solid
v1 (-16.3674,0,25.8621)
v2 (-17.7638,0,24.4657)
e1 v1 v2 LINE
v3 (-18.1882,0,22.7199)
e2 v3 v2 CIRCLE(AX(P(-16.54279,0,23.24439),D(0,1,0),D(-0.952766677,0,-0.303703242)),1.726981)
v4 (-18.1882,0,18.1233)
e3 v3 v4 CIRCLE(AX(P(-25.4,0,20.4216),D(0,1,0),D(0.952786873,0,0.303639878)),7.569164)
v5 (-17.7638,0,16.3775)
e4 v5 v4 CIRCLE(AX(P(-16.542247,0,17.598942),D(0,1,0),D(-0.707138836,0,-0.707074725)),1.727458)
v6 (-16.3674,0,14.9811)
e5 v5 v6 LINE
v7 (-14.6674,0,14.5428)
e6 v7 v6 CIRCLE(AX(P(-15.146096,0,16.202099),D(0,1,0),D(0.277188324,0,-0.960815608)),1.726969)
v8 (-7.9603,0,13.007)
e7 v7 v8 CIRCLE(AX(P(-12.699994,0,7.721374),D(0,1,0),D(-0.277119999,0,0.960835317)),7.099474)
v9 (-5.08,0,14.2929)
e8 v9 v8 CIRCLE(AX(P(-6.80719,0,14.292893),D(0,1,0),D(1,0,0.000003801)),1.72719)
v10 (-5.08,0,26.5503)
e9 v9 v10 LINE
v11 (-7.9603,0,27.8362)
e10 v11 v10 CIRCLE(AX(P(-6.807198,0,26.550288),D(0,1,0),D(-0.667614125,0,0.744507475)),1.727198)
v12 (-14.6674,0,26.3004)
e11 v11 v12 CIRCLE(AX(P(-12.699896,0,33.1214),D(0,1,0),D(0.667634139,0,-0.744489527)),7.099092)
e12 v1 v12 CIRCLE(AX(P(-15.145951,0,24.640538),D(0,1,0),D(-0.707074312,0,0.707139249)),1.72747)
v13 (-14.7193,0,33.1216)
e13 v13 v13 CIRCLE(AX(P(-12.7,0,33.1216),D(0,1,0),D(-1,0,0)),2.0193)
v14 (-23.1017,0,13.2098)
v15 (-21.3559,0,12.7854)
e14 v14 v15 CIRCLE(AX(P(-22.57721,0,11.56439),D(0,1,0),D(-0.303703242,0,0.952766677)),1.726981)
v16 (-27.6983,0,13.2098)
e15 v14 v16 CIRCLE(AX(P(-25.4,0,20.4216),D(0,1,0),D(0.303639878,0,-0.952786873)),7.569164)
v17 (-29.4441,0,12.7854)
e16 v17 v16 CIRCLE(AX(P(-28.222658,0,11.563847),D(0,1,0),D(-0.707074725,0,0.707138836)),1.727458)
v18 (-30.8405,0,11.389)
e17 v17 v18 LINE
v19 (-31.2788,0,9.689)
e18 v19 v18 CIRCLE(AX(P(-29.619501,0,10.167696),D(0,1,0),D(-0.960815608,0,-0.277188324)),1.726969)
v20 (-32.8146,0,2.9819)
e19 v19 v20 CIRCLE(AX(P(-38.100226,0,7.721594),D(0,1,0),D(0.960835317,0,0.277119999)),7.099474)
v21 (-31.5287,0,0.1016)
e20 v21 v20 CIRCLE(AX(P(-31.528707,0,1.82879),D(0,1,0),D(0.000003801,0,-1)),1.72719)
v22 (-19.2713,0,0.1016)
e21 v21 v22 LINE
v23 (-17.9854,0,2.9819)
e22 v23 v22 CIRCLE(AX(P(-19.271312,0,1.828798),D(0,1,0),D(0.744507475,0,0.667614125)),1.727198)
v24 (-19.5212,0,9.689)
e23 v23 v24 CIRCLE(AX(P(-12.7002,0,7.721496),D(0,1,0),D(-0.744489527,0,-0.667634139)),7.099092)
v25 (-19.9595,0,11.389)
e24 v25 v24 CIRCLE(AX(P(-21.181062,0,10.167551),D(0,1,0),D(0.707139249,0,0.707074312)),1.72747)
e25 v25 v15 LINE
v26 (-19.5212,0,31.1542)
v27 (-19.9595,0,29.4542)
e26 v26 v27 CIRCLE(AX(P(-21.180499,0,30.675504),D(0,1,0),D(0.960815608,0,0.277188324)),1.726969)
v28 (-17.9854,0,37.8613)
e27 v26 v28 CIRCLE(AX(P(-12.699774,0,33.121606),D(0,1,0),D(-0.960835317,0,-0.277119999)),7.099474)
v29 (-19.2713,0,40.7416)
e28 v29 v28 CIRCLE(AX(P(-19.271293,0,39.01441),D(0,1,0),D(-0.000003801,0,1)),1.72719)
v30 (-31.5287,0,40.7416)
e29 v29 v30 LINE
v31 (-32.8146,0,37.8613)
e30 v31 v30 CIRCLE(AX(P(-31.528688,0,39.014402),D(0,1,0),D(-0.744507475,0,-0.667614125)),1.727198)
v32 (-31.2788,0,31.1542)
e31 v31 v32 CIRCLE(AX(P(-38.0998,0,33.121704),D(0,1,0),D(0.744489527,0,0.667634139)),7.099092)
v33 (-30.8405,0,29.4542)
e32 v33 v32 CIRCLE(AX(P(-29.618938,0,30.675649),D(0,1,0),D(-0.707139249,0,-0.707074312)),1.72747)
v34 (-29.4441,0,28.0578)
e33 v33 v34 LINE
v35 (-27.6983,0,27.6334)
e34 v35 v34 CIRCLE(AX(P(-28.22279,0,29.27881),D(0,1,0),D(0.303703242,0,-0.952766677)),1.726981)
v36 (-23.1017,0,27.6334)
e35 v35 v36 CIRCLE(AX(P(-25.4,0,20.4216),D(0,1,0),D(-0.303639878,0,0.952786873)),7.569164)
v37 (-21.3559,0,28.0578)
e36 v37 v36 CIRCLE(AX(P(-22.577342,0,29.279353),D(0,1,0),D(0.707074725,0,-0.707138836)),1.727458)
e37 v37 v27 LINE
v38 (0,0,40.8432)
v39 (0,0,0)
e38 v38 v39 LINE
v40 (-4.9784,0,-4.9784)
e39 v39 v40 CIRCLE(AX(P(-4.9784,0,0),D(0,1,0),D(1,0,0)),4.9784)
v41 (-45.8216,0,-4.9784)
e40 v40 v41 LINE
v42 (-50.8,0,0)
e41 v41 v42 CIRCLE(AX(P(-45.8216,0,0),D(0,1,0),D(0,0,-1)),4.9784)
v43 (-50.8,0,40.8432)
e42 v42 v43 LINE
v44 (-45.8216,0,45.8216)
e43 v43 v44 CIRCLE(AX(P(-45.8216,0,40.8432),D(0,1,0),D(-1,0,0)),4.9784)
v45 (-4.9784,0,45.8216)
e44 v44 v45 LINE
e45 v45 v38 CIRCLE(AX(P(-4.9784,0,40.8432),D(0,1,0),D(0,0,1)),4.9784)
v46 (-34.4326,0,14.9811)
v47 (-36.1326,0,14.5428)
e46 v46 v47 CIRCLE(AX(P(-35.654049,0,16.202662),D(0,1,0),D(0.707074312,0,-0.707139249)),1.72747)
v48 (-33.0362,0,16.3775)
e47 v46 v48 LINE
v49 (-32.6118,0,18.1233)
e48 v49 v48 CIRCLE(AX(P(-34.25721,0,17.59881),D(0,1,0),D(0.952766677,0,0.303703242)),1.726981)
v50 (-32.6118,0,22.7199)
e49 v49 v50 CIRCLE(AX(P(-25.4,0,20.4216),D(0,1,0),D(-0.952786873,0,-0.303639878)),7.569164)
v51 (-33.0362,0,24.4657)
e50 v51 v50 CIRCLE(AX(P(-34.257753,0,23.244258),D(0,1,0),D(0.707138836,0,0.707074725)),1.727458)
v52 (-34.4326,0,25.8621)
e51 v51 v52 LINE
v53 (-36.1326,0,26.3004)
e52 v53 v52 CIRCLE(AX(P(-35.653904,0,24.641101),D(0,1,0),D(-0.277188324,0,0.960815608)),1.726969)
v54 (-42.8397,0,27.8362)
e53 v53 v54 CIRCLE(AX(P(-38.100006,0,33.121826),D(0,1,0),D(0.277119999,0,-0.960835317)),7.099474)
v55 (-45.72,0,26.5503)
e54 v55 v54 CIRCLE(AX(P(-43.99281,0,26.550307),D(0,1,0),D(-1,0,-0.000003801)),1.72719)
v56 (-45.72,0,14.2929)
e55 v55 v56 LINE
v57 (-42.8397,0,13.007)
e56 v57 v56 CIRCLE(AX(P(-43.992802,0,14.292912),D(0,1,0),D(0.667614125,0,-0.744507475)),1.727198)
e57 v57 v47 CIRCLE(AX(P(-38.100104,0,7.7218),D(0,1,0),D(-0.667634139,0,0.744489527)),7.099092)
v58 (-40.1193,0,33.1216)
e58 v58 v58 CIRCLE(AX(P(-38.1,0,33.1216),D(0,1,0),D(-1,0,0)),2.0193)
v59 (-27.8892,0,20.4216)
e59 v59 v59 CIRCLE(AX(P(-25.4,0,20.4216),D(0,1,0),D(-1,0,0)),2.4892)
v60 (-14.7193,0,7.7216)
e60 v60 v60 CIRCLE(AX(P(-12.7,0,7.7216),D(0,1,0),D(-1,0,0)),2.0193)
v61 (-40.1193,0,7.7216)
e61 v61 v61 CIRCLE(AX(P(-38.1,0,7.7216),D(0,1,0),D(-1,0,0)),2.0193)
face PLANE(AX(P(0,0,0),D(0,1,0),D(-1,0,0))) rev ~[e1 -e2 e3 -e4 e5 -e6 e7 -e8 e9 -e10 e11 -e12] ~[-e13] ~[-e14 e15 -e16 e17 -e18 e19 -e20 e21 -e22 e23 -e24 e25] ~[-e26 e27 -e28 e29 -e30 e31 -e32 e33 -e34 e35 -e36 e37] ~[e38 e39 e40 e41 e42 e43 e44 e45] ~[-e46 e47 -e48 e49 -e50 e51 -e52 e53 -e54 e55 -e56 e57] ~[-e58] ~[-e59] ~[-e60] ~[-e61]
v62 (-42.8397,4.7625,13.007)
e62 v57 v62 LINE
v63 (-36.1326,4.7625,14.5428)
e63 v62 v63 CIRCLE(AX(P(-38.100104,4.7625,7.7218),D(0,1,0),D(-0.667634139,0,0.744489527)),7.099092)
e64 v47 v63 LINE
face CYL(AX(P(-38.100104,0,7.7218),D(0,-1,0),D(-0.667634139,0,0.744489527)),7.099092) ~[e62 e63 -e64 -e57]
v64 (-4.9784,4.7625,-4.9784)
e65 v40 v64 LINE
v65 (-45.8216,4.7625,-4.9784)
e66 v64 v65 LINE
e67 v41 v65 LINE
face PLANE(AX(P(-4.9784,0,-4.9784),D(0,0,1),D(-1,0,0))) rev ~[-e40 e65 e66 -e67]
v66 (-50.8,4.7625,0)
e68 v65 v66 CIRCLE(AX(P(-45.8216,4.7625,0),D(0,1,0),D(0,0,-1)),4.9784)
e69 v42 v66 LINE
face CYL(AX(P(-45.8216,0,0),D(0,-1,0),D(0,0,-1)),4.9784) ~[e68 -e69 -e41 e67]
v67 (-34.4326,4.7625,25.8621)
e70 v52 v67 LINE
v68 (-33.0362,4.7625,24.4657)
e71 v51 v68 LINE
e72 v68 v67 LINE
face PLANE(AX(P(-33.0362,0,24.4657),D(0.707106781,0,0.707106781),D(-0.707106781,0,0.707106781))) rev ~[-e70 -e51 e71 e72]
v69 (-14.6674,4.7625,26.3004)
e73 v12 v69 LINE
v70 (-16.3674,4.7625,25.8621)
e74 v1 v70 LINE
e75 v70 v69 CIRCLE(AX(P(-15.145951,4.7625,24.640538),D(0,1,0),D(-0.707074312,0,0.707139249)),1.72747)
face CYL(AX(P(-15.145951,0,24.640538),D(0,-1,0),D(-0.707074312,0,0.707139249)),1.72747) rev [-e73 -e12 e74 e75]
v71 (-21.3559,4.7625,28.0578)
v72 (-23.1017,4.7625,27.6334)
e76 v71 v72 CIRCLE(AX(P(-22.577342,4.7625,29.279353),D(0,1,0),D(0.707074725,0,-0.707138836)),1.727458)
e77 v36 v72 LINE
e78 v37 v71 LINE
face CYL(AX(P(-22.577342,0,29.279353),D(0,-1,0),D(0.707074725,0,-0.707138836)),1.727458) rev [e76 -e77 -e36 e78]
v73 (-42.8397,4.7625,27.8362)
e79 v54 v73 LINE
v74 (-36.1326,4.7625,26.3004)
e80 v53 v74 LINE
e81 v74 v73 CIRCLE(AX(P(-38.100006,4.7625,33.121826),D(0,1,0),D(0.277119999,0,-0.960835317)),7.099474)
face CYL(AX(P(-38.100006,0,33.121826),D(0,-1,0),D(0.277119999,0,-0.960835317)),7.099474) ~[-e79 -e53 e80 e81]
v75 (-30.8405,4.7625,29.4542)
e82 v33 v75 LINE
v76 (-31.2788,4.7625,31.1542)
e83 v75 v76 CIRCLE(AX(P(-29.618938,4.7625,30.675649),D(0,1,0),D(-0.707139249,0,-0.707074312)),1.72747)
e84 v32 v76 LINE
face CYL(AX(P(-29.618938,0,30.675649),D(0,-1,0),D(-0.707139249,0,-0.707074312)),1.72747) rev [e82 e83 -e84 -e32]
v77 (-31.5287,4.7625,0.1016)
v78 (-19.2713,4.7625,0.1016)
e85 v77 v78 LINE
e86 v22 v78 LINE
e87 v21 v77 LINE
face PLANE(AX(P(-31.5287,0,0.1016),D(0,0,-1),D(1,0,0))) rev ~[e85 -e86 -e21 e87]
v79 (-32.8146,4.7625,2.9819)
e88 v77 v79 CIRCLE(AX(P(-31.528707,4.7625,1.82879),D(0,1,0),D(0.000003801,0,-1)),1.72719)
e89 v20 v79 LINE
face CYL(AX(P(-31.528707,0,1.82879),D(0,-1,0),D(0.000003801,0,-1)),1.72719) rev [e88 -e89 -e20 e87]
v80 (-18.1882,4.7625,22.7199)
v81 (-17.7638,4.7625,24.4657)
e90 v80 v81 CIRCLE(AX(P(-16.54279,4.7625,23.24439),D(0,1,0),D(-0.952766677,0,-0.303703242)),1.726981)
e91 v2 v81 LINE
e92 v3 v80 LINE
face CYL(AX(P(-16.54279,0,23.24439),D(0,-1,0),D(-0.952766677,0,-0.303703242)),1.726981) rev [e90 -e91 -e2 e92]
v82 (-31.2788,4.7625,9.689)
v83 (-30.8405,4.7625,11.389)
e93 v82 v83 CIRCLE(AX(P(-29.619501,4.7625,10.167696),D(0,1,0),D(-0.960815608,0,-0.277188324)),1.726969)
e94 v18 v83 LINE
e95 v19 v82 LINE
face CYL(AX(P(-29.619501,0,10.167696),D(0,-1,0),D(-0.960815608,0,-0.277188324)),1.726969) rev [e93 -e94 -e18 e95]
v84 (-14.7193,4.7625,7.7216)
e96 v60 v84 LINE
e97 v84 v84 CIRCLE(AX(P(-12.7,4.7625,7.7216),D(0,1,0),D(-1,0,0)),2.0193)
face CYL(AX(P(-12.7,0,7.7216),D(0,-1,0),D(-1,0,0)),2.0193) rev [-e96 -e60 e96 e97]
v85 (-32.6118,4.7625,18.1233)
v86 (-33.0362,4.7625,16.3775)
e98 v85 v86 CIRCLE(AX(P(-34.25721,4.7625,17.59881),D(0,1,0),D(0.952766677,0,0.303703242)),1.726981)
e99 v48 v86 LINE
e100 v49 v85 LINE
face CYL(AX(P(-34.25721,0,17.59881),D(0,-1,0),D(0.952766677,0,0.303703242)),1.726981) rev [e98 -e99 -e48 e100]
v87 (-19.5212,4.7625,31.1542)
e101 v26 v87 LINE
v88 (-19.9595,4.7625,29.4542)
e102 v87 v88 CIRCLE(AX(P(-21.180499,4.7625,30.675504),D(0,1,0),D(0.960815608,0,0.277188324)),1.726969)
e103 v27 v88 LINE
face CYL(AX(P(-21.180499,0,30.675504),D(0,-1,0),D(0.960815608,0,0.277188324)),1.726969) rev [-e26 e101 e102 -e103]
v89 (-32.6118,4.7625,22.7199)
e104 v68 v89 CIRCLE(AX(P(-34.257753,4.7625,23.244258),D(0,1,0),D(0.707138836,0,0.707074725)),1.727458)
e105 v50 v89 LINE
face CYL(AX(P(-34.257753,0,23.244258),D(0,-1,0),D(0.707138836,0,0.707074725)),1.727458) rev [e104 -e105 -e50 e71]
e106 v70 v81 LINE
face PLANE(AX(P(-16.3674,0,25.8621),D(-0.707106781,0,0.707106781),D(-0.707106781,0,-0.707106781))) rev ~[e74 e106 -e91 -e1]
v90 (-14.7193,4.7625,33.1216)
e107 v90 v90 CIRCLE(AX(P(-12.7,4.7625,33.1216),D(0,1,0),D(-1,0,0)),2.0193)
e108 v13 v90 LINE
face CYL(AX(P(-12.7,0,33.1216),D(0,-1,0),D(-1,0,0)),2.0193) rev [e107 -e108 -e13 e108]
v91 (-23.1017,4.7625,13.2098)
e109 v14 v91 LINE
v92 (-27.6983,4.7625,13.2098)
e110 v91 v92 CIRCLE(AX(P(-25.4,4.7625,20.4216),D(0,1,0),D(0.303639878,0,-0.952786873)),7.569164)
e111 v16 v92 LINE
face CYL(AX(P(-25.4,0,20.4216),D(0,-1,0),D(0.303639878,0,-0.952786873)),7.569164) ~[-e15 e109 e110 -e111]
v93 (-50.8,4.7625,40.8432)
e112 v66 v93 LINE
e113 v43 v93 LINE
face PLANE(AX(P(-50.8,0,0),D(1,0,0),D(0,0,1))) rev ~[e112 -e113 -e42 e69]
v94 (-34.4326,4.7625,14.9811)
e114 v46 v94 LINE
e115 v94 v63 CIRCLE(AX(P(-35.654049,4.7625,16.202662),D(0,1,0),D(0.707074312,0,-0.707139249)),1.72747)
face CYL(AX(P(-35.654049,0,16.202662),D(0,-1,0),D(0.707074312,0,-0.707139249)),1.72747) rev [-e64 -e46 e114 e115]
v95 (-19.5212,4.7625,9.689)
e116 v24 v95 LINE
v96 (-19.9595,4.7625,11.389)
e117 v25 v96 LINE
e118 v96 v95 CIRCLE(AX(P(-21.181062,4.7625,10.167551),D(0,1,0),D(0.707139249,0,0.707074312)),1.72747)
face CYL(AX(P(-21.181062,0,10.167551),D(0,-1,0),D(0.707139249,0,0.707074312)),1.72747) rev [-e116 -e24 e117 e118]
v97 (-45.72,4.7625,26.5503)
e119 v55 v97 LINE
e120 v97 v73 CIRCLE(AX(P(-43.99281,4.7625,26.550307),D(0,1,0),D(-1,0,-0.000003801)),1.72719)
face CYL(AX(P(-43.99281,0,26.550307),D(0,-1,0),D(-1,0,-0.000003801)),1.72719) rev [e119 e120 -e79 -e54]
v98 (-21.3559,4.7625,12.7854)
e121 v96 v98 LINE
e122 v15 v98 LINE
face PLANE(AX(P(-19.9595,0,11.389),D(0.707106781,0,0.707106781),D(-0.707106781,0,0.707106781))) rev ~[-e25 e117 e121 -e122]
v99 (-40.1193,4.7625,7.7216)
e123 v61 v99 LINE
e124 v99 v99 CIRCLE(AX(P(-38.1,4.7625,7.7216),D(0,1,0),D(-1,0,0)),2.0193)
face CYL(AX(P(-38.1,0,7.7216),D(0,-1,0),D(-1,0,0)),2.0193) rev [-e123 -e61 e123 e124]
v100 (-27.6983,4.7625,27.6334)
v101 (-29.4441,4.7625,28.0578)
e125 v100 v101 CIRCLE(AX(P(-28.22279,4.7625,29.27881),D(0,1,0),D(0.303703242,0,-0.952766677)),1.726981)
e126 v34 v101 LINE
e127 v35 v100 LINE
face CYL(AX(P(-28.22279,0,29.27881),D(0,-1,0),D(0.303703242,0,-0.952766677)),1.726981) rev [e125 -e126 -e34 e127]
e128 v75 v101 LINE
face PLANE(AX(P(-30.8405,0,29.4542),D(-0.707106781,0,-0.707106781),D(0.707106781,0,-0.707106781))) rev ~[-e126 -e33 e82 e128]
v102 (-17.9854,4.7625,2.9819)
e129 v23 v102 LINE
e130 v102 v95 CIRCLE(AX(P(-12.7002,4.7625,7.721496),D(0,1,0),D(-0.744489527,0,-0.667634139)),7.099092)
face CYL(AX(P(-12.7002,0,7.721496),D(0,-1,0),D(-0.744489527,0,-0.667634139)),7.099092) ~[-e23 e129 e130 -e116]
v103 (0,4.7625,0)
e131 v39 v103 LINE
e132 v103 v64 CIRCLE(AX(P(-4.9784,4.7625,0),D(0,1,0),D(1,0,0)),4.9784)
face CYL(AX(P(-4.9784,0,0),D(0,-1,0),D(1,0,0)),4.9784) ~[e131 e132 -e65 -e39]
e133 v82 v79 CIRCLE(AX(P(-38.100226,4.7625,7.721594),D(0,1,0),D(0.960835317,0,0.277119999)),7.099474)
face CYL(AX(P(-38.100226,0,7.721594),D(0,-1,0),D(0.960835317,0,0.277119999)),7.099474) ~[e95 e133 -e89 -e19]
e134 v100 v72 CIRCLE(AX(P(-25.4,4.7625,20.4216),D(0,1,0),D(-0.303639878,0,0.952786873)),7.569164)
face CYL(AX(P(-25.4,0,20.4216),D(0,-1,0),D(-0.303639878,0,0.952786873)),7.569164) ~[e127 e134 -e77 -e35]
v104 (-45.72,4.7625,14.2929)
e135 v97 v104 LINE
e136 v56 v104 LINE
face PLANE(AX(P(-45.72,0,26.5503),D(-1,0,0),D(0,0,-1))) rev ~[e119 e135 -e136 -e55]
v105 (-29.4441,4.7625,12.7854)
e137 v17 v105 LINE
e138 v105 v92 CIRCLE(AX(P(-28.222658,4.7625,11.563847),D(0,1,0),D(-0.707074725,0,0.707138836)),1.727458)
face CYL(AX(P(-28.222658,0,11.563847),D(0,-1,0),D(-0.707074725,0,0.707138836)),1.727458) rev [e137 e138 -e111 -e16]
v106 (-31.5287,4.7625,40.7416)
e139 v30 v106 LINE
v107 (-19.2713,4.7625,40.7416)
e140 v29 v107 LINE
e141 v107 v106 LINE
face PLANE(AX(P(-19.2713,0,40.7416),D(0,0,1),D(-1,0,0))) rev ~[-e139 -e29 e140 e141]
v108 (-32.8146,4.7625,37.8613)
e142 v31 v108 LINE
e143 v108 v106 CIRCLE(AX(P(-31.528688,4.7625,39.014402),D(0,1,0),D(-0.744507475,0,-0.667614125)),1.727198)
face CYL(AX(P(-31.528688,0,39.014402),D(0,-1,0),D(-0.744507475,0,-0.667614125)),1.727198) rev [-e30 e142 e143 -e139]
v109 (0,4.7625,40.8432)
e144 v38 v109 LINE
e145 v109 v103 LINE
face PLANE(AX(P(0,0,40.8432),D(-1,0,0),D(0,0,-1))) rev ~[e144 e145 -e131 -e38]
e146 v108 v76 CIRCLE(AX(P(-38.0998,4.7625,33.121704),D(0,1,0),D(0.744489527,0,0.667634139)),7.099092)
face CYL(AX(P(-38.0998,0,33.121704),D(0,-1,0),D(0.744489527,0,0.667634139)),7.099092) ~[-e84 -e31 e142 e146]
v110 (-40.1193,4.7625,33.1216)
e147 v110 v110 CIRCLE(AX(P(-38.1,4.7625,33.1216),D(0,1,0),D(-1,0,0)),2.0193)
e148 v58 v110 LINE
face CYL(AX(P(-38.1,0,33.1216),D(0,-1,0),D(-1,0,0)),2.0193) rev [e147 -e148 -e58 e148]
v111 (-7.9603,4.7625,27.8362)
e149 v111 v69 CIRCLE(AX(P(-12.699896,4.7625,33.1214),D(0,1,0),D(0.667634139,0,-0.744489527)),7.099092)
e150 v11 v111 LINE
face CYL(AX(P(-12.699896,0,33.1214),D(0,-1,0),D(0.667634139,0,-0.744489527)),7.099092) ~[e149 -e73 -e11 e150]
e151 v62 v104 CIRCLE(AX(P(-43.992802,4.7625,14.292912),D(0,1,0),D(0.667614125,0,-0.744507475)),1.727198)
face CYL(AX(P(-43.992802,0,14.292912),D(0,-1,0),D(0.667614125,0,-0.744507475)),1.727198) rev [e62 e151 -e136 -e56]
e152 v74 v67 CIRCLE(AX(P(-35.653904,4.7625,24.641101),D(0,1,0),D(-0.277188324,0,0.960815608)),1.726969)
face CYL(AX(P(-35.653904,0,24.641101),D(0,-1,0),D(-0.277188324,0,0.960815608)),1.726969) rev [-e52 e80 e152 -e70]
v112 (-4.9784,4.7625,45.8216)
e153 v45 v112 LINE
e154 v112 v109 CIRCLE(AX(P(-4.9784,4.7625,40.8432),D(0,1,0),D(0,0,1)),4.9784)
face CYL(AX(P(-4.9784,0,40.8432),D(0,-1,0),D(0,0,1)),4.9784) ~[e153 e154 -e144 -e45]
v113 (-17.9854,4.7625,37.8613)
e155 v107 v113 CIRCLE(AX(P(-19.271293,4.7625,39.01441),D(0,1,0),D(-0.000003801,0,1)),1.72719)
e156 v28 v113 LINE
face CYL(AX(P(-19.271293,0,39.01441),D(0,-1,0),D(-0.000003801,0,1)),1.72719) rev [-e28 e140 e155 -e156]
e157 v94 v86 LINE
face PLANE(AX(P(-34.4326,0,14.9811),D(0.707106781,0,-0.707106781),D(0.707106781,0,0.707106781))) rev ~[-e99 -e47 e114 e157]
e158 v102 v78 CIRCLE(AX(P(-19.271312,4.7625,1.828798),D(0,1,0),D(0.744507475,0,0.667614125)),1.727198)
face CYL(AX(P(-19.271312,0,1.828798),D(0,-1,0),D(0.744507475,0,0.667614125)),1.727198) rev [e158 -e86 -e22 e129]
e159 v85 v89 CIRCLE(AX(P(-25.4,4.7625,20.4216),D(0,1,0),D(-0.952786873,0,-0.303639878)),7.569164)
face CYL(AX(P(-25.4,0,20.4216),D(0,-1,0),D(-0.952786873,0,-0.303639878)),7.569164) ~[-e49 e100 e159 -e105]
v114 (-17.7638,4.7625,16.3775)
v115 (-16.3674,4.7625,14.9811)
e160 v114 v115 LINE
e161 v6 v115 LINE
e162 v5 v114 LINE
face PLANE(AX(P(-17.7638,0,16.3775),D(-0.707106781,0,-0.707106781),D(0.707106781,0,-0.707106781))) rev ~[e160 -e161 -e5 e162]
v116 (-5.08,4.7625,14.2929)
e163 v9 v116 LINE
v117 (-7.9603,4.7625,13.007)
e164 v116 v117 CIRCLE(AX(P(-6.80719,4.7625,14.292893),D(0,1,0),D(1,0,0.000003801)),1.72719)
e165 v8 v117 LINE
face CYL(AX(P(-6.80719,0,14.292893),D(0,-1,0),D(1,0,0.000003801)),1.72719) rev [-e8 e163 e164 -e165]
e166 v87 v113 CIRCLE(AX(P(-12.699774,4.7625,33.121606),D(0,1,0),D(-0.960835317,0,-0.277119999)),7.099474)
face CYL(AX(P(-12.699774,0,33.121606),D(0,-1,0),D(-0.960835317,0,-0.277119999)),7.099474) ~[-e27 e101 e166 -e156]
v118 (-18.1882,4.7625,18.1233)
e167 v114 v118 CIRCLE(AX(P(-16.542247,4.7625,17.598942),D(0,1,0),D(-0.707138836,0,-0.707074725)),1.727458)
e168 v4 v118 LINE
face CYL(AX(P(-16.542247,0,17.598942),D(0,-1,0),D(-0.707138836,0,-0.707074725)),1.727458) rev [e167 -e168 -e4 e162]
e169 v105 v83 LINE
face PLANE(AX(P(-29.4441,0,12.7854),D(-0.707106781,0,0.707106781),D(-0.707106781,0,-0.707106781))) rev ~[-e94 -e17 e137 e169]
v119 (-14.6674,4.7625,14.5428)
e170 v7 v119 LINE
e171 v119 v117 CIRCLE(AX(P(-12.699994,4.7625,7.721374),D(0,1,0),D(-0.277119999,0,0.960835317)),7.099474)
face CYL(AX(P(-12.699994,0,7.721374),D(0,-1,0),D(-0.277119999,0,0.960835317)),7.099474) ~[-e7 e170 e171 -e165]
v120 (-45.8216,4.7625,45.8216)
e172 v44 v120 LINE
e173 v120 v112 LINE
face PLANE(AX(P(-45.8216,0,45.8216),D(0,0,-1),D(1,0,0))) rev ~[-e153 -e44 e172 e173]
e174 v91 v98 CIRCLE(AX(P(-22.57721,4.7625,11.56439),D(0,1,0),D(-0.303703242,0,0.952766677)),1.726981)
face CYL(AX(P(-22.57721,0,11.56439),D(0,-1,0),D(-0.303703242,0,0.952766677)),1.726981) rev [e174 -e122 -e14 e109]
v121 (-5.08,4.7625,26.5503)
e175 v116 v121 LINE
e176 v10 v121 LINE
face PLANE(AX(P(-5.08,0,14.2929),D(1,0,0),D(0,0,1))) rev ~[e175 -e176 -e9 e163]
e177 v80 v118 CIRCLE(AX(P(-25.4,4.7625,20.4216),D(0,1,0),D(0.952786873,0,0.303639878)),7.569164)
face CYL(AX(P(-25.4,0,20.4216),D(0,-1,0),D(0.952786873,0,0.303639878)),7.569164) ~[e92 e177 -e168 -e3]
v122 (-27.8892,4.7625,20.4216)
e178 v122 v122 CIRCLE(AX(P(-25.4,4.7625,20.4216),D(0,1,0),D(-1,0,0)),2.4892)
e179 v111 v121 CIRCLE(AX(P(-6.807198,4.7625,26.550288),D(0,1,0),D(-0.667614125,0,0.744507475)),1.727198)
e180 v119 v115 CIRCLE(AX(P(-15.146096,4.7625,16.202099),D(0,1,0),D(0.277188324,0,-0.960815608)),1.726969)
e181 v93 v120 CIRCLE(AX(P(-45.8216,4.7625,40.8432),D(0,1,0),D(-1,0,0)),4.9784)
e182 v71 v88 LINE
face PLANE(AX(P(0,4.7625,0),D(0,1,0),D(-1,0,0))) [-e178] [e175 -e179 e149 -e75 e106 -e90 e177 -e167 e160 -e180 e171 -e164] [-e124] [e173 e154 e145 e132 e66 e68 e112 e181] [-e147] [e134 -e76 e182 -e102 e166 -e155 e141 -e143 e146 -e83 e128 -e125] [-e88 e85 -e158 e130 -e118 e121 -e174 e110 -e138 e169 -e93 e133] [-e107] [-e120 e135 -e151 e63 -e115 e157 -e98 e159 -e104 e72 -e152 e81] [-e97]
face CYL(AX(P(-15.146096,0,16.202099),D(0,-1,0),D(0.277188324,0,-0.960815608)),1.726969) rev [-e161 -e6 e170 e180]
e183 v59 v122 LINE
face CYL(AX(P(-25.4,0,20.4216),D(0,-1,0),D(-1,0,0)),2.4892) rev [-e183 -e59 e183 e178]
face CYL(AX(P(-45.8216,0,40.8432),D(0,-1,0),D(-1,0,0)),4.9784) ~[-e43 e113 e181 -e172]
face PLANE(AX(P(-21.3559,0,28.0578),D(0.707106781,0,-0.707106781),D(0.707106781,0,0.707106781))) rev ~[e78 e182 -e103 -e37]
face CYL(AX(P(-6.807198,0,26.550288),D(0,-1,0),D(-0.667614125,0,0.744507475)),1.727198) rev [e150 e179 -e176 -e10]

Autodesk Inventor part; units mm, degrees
ref_plane "YZ Plane" through (0, 0, 0) normal (1, 0, 0) x (0, 1, 0)
ref_plane "XZ Plane" through (0, 0, 0) normal (0, 1, 0) x (-1, 0, 0)
ref_plane "XY Plane" through (0, 0, 0) normal (0, 0, 1) x (1, 0, 0)
sketch "Sketch2" plane through (0, 0, 0) normal (0, 1, 0) x (-1, 0, 0)
  line L0 (45.8216, 45.8216) -> (4.9784, 45.8216)
  arc A0 (4.9784, 45.8216) -> (0, 40.8432) centre (4.9784, 40.8432) ccw
  line L1 (0, 40.8432) -> (0, 0)
  arc A1 (0, 0) -> (4.9784, -4.9784) centre (4.9784, 0) ccw
  line L2 (4.9784, -4.9784) -> (45.8216, -4.9784)
  arc A2 (45.8216, -4.9784) -> (50.8, 0) centre (45.8216, 0) ccw
  line L3 (50.8, 0) -> (50.8, 40.8432)
  arc A3 (50.8, 40.8432) -> (45.8216, 45.8216) centre (45.8216, 40.8432) ccw
  arc A4 (33.0362, 24.4657) -> (32.6118, 22.7199) centre (34.2575, 23.2444) ccw
  line L4 (33.0362, 24.4657) -> (34.4326, 25.8621)
  arc A5 (36.1326, 26.3004) -> (34.4326, 25.8621) centre (35.6539, 24.6408) ccw
  arc A6 (36.1326, 26.3004) -> (42.8397, 27.8362) centre (38.1, 33.1216) ccw
  arc A7 (45.72, 26.5503) -> (42.8397, 27.8362) centre (43.9928, 26.5503) ccw
  line L5 (45.72, 26.5503) -> (45.72, 14.2929)
  arc A8 (42.8397, 13.007) -> (45.72, 14.2929) centre (43.9928, 14.2929) ccw
  arc A9 (42.8397, 13.007) -> (36.1326, 14.5428) centre (38.1, 7.7216) ccw
  arc A10 (34.4326, 14.9811) -> (36.1326, 14.5428) centre (35.6539, 16.2024) ccw
  line L6 (34.4326, 14.9811) -> (33.0362, 16.3775)
  arc A11 (32.6118, 18.1233) -> (33.0362, 16.3775) centre (34.2575, 17.5988) ccw
  arc A12 (32.6118, 18.1233) -> (32.6118, 22.7199) centre (25.4, 20.4216) ccw
  arc A13 (17.7638, 16.3775) -> (18.1882, 18.1233) centre (16.5425, 17.5988) ccw
  line L7 (17.7638, 16.3775) -> (16.3674, 14.9811)
  arc A14 (14.6674, 14.5428) -> (16.3674, 14.9811) centre (15.1461, 16.2024) ccw
  arc A15 (14.6674, 14.5428) -> (7.9603, 13.007) centre (12.7, 7.7216) ccw
  arc A16 (5.08, 14.2929) -> (7.9603, 13.007) centre (6.8072, 14.2929) ccw
  line L8 (5.08, 14.2929) -> (5.08, 26.5503)
  arc A17 (7.9603, 27.8362) -> (5.08, 26.5503) centre (6.8072, 26.5503) ccw
  arc A18 (7.9603, 27.8362) -> (14.6674, 26.3004) centre (12.7, 33.1216) ccw
  arc A19 (16.3674, 25.8621) -> (14.6674, 26.3004) centre (15.1461, 24.6408) ccw
  line L9 (16.3674, 25.8621) -> (17.7638, 24.4657)
  arc A20 (18.1882, 22.7199) -> (17.7638, 24.4657) centre (16.5425, 23.2444) ccw
  arc A21 (18.1882, 22.7199) -> (18.1882, 18.1233) centre (25.4, 20.4216) ccw
  arc A22 (30.8405, 29.4542) -> (31.2788, 31.1542) centre (29.6192, 30.6755) ccw
  line L10 (30.8405, 29.4542) -> (29.4441, 28.0578)
  arc A23 (27.6983, 27.6334) -> (29.4441, 28.0578) centre (28.2228, 29.2791) ccw
  arc A24 (27.6983, 27.6334) -> (23.1017, 27.6334) centre (25.4, 20.4216) ccw
  arc A25 (21.3559, 28.0578) -> (23.1017, 27.6334) centre (22.5772, 29.2791) ccw
  line L11 (21.3559, 28.0578) -> (19.9595, 29.4542)
  arc A26 (19.5212, 31.1542) -> (19.9595, 29.4542) centre (21.1808, 30.6755) ccw
  arc A27 (19.5212, 31.1542) -> (17.9854, 37.8613) centre (12.7, 33.1216) ccw
  arc A28 (19.2713, 40.7416) -> (17.9854, 37.8613) centre (19.2713, 39.0144) ccw
  line L12 (19.2713, 40.7416) -> (31.5287, 40.7416)
  arc A29 (32.8146, 37.8613) -> (31.5287, 40.7416) centre (31.5287, 39.0144) ccw
  arc A30 (32.8146, 37.8613) -> (31.2788, 31.1542) centre (38.1, 33.1216) ccw
  arc A31 (19.9595, 11.389) -> (19.5212, 9.689) centre (21.1808, 10.1677) ccw
  line L13 (19.9595, 11.389) -> (21.3559, 12.7854)
  arc A32 (23.1017, 13.2098) -> (21.3559, 12.7854) centre (22.5772, 11.5641) ccw
  arc A33 (23.1017, 13.2098) -> (27.6983, 13.2098) centre (25.4, 20.4216) ccw
  arc A34 (29.4441, 12.7854) -> (27.6983, 13.2098) centre (28.2228, 11.5641) ccw
  line L14 (29.4441, 12.7854) -> (30.8405, 11.389)
  arc A35 (31.2788, 9.689) -> (30.8405, 11.389) centre (29.6192, 10.1677) ccw
  arc A36 (31.2788, 9.689) -> (32.8146, 2.9819) centre (38.1, 7.7216) ccw
  arc A37 (31.5287, 0.1016) -> (32.8146, 2.9819) centre (31.5287, 1.8288) ccw
  line L15 (31.5287, 0.1016) -> (19.2713, 0.1016)
  arc A38 (17.9854, 2.9819) -> (19.2713, 0.1016) centre (19.2713, 1.8288) ccw
  arc A39 (17.9854, 2.9819) -> (19.5212, 9.689) centre (12.7, 7.7216) ccw
  circle A40 centre (12.7, 7.7216) radius 2.0193
  circle A41 centre (12.7, 33.1216) radius 2.0193
  circle A42 centre (38.1, 33.1216) radius 2.0193
  circle A43 centre (38.1, 7.7216) radius 2.0193
  circle A44 centre (25.4, 20.4216) radius 2.4892
  point P0 (0, 40.8432)
  point P1 (4.9784, -4.9784)
  point P2 (50.8, 0)
  point P3 (23.1017, 13.2098)
  point P4 (27.6983, 13.2098)
  point P5 (29.4441, 12.7854)
  point P6 (32.8146, 2.9819)
  point P7 (31.5287, 0.1016)
  point P8 (17.9854, 2.9819)
  point P9 (19.5212, 9.689)
  point P10 (19.5212, 31.1542)
  point P11 (7.9603, 13.007)
  point P12 (5.08, 14.2929)
  point P13 (7.9603, 27.8362)
  point P14 (14.6674, 26.3004)
  point P15 (36.1326, 26.3004)
  point P16 (42.8397, 13.007)
  point P17 (36.1326, 14.5428)
  point P18 (34.4326, 14.9811)
extrude "Plate2" add sketch "Sketch2" along normal blind 4.7625
equation "\"d11\" = Thickness"
equation "\"BendRadius\" = 1.5 * Thickness"
equation "\"BendReliefWidth\" = Thickness"
equation "\"BendReliefDepth\" = 0.5 * Thickness"
equation "\"CornerReliefSize\" = 4 * Thickness"
equation "\"MinimumRemnant\" = 2 * Thickness"
equation "\"TransitionRadius\" = BendRadius"
equation "\"JacobiRadiusSize\" = BendRadius"
equation "\"GapSize\" = Thickness"
equation "\"Thickness\" = 4.7625"
properties part number "climber-axle-endcap" material "Polycarbonate, Clear"
